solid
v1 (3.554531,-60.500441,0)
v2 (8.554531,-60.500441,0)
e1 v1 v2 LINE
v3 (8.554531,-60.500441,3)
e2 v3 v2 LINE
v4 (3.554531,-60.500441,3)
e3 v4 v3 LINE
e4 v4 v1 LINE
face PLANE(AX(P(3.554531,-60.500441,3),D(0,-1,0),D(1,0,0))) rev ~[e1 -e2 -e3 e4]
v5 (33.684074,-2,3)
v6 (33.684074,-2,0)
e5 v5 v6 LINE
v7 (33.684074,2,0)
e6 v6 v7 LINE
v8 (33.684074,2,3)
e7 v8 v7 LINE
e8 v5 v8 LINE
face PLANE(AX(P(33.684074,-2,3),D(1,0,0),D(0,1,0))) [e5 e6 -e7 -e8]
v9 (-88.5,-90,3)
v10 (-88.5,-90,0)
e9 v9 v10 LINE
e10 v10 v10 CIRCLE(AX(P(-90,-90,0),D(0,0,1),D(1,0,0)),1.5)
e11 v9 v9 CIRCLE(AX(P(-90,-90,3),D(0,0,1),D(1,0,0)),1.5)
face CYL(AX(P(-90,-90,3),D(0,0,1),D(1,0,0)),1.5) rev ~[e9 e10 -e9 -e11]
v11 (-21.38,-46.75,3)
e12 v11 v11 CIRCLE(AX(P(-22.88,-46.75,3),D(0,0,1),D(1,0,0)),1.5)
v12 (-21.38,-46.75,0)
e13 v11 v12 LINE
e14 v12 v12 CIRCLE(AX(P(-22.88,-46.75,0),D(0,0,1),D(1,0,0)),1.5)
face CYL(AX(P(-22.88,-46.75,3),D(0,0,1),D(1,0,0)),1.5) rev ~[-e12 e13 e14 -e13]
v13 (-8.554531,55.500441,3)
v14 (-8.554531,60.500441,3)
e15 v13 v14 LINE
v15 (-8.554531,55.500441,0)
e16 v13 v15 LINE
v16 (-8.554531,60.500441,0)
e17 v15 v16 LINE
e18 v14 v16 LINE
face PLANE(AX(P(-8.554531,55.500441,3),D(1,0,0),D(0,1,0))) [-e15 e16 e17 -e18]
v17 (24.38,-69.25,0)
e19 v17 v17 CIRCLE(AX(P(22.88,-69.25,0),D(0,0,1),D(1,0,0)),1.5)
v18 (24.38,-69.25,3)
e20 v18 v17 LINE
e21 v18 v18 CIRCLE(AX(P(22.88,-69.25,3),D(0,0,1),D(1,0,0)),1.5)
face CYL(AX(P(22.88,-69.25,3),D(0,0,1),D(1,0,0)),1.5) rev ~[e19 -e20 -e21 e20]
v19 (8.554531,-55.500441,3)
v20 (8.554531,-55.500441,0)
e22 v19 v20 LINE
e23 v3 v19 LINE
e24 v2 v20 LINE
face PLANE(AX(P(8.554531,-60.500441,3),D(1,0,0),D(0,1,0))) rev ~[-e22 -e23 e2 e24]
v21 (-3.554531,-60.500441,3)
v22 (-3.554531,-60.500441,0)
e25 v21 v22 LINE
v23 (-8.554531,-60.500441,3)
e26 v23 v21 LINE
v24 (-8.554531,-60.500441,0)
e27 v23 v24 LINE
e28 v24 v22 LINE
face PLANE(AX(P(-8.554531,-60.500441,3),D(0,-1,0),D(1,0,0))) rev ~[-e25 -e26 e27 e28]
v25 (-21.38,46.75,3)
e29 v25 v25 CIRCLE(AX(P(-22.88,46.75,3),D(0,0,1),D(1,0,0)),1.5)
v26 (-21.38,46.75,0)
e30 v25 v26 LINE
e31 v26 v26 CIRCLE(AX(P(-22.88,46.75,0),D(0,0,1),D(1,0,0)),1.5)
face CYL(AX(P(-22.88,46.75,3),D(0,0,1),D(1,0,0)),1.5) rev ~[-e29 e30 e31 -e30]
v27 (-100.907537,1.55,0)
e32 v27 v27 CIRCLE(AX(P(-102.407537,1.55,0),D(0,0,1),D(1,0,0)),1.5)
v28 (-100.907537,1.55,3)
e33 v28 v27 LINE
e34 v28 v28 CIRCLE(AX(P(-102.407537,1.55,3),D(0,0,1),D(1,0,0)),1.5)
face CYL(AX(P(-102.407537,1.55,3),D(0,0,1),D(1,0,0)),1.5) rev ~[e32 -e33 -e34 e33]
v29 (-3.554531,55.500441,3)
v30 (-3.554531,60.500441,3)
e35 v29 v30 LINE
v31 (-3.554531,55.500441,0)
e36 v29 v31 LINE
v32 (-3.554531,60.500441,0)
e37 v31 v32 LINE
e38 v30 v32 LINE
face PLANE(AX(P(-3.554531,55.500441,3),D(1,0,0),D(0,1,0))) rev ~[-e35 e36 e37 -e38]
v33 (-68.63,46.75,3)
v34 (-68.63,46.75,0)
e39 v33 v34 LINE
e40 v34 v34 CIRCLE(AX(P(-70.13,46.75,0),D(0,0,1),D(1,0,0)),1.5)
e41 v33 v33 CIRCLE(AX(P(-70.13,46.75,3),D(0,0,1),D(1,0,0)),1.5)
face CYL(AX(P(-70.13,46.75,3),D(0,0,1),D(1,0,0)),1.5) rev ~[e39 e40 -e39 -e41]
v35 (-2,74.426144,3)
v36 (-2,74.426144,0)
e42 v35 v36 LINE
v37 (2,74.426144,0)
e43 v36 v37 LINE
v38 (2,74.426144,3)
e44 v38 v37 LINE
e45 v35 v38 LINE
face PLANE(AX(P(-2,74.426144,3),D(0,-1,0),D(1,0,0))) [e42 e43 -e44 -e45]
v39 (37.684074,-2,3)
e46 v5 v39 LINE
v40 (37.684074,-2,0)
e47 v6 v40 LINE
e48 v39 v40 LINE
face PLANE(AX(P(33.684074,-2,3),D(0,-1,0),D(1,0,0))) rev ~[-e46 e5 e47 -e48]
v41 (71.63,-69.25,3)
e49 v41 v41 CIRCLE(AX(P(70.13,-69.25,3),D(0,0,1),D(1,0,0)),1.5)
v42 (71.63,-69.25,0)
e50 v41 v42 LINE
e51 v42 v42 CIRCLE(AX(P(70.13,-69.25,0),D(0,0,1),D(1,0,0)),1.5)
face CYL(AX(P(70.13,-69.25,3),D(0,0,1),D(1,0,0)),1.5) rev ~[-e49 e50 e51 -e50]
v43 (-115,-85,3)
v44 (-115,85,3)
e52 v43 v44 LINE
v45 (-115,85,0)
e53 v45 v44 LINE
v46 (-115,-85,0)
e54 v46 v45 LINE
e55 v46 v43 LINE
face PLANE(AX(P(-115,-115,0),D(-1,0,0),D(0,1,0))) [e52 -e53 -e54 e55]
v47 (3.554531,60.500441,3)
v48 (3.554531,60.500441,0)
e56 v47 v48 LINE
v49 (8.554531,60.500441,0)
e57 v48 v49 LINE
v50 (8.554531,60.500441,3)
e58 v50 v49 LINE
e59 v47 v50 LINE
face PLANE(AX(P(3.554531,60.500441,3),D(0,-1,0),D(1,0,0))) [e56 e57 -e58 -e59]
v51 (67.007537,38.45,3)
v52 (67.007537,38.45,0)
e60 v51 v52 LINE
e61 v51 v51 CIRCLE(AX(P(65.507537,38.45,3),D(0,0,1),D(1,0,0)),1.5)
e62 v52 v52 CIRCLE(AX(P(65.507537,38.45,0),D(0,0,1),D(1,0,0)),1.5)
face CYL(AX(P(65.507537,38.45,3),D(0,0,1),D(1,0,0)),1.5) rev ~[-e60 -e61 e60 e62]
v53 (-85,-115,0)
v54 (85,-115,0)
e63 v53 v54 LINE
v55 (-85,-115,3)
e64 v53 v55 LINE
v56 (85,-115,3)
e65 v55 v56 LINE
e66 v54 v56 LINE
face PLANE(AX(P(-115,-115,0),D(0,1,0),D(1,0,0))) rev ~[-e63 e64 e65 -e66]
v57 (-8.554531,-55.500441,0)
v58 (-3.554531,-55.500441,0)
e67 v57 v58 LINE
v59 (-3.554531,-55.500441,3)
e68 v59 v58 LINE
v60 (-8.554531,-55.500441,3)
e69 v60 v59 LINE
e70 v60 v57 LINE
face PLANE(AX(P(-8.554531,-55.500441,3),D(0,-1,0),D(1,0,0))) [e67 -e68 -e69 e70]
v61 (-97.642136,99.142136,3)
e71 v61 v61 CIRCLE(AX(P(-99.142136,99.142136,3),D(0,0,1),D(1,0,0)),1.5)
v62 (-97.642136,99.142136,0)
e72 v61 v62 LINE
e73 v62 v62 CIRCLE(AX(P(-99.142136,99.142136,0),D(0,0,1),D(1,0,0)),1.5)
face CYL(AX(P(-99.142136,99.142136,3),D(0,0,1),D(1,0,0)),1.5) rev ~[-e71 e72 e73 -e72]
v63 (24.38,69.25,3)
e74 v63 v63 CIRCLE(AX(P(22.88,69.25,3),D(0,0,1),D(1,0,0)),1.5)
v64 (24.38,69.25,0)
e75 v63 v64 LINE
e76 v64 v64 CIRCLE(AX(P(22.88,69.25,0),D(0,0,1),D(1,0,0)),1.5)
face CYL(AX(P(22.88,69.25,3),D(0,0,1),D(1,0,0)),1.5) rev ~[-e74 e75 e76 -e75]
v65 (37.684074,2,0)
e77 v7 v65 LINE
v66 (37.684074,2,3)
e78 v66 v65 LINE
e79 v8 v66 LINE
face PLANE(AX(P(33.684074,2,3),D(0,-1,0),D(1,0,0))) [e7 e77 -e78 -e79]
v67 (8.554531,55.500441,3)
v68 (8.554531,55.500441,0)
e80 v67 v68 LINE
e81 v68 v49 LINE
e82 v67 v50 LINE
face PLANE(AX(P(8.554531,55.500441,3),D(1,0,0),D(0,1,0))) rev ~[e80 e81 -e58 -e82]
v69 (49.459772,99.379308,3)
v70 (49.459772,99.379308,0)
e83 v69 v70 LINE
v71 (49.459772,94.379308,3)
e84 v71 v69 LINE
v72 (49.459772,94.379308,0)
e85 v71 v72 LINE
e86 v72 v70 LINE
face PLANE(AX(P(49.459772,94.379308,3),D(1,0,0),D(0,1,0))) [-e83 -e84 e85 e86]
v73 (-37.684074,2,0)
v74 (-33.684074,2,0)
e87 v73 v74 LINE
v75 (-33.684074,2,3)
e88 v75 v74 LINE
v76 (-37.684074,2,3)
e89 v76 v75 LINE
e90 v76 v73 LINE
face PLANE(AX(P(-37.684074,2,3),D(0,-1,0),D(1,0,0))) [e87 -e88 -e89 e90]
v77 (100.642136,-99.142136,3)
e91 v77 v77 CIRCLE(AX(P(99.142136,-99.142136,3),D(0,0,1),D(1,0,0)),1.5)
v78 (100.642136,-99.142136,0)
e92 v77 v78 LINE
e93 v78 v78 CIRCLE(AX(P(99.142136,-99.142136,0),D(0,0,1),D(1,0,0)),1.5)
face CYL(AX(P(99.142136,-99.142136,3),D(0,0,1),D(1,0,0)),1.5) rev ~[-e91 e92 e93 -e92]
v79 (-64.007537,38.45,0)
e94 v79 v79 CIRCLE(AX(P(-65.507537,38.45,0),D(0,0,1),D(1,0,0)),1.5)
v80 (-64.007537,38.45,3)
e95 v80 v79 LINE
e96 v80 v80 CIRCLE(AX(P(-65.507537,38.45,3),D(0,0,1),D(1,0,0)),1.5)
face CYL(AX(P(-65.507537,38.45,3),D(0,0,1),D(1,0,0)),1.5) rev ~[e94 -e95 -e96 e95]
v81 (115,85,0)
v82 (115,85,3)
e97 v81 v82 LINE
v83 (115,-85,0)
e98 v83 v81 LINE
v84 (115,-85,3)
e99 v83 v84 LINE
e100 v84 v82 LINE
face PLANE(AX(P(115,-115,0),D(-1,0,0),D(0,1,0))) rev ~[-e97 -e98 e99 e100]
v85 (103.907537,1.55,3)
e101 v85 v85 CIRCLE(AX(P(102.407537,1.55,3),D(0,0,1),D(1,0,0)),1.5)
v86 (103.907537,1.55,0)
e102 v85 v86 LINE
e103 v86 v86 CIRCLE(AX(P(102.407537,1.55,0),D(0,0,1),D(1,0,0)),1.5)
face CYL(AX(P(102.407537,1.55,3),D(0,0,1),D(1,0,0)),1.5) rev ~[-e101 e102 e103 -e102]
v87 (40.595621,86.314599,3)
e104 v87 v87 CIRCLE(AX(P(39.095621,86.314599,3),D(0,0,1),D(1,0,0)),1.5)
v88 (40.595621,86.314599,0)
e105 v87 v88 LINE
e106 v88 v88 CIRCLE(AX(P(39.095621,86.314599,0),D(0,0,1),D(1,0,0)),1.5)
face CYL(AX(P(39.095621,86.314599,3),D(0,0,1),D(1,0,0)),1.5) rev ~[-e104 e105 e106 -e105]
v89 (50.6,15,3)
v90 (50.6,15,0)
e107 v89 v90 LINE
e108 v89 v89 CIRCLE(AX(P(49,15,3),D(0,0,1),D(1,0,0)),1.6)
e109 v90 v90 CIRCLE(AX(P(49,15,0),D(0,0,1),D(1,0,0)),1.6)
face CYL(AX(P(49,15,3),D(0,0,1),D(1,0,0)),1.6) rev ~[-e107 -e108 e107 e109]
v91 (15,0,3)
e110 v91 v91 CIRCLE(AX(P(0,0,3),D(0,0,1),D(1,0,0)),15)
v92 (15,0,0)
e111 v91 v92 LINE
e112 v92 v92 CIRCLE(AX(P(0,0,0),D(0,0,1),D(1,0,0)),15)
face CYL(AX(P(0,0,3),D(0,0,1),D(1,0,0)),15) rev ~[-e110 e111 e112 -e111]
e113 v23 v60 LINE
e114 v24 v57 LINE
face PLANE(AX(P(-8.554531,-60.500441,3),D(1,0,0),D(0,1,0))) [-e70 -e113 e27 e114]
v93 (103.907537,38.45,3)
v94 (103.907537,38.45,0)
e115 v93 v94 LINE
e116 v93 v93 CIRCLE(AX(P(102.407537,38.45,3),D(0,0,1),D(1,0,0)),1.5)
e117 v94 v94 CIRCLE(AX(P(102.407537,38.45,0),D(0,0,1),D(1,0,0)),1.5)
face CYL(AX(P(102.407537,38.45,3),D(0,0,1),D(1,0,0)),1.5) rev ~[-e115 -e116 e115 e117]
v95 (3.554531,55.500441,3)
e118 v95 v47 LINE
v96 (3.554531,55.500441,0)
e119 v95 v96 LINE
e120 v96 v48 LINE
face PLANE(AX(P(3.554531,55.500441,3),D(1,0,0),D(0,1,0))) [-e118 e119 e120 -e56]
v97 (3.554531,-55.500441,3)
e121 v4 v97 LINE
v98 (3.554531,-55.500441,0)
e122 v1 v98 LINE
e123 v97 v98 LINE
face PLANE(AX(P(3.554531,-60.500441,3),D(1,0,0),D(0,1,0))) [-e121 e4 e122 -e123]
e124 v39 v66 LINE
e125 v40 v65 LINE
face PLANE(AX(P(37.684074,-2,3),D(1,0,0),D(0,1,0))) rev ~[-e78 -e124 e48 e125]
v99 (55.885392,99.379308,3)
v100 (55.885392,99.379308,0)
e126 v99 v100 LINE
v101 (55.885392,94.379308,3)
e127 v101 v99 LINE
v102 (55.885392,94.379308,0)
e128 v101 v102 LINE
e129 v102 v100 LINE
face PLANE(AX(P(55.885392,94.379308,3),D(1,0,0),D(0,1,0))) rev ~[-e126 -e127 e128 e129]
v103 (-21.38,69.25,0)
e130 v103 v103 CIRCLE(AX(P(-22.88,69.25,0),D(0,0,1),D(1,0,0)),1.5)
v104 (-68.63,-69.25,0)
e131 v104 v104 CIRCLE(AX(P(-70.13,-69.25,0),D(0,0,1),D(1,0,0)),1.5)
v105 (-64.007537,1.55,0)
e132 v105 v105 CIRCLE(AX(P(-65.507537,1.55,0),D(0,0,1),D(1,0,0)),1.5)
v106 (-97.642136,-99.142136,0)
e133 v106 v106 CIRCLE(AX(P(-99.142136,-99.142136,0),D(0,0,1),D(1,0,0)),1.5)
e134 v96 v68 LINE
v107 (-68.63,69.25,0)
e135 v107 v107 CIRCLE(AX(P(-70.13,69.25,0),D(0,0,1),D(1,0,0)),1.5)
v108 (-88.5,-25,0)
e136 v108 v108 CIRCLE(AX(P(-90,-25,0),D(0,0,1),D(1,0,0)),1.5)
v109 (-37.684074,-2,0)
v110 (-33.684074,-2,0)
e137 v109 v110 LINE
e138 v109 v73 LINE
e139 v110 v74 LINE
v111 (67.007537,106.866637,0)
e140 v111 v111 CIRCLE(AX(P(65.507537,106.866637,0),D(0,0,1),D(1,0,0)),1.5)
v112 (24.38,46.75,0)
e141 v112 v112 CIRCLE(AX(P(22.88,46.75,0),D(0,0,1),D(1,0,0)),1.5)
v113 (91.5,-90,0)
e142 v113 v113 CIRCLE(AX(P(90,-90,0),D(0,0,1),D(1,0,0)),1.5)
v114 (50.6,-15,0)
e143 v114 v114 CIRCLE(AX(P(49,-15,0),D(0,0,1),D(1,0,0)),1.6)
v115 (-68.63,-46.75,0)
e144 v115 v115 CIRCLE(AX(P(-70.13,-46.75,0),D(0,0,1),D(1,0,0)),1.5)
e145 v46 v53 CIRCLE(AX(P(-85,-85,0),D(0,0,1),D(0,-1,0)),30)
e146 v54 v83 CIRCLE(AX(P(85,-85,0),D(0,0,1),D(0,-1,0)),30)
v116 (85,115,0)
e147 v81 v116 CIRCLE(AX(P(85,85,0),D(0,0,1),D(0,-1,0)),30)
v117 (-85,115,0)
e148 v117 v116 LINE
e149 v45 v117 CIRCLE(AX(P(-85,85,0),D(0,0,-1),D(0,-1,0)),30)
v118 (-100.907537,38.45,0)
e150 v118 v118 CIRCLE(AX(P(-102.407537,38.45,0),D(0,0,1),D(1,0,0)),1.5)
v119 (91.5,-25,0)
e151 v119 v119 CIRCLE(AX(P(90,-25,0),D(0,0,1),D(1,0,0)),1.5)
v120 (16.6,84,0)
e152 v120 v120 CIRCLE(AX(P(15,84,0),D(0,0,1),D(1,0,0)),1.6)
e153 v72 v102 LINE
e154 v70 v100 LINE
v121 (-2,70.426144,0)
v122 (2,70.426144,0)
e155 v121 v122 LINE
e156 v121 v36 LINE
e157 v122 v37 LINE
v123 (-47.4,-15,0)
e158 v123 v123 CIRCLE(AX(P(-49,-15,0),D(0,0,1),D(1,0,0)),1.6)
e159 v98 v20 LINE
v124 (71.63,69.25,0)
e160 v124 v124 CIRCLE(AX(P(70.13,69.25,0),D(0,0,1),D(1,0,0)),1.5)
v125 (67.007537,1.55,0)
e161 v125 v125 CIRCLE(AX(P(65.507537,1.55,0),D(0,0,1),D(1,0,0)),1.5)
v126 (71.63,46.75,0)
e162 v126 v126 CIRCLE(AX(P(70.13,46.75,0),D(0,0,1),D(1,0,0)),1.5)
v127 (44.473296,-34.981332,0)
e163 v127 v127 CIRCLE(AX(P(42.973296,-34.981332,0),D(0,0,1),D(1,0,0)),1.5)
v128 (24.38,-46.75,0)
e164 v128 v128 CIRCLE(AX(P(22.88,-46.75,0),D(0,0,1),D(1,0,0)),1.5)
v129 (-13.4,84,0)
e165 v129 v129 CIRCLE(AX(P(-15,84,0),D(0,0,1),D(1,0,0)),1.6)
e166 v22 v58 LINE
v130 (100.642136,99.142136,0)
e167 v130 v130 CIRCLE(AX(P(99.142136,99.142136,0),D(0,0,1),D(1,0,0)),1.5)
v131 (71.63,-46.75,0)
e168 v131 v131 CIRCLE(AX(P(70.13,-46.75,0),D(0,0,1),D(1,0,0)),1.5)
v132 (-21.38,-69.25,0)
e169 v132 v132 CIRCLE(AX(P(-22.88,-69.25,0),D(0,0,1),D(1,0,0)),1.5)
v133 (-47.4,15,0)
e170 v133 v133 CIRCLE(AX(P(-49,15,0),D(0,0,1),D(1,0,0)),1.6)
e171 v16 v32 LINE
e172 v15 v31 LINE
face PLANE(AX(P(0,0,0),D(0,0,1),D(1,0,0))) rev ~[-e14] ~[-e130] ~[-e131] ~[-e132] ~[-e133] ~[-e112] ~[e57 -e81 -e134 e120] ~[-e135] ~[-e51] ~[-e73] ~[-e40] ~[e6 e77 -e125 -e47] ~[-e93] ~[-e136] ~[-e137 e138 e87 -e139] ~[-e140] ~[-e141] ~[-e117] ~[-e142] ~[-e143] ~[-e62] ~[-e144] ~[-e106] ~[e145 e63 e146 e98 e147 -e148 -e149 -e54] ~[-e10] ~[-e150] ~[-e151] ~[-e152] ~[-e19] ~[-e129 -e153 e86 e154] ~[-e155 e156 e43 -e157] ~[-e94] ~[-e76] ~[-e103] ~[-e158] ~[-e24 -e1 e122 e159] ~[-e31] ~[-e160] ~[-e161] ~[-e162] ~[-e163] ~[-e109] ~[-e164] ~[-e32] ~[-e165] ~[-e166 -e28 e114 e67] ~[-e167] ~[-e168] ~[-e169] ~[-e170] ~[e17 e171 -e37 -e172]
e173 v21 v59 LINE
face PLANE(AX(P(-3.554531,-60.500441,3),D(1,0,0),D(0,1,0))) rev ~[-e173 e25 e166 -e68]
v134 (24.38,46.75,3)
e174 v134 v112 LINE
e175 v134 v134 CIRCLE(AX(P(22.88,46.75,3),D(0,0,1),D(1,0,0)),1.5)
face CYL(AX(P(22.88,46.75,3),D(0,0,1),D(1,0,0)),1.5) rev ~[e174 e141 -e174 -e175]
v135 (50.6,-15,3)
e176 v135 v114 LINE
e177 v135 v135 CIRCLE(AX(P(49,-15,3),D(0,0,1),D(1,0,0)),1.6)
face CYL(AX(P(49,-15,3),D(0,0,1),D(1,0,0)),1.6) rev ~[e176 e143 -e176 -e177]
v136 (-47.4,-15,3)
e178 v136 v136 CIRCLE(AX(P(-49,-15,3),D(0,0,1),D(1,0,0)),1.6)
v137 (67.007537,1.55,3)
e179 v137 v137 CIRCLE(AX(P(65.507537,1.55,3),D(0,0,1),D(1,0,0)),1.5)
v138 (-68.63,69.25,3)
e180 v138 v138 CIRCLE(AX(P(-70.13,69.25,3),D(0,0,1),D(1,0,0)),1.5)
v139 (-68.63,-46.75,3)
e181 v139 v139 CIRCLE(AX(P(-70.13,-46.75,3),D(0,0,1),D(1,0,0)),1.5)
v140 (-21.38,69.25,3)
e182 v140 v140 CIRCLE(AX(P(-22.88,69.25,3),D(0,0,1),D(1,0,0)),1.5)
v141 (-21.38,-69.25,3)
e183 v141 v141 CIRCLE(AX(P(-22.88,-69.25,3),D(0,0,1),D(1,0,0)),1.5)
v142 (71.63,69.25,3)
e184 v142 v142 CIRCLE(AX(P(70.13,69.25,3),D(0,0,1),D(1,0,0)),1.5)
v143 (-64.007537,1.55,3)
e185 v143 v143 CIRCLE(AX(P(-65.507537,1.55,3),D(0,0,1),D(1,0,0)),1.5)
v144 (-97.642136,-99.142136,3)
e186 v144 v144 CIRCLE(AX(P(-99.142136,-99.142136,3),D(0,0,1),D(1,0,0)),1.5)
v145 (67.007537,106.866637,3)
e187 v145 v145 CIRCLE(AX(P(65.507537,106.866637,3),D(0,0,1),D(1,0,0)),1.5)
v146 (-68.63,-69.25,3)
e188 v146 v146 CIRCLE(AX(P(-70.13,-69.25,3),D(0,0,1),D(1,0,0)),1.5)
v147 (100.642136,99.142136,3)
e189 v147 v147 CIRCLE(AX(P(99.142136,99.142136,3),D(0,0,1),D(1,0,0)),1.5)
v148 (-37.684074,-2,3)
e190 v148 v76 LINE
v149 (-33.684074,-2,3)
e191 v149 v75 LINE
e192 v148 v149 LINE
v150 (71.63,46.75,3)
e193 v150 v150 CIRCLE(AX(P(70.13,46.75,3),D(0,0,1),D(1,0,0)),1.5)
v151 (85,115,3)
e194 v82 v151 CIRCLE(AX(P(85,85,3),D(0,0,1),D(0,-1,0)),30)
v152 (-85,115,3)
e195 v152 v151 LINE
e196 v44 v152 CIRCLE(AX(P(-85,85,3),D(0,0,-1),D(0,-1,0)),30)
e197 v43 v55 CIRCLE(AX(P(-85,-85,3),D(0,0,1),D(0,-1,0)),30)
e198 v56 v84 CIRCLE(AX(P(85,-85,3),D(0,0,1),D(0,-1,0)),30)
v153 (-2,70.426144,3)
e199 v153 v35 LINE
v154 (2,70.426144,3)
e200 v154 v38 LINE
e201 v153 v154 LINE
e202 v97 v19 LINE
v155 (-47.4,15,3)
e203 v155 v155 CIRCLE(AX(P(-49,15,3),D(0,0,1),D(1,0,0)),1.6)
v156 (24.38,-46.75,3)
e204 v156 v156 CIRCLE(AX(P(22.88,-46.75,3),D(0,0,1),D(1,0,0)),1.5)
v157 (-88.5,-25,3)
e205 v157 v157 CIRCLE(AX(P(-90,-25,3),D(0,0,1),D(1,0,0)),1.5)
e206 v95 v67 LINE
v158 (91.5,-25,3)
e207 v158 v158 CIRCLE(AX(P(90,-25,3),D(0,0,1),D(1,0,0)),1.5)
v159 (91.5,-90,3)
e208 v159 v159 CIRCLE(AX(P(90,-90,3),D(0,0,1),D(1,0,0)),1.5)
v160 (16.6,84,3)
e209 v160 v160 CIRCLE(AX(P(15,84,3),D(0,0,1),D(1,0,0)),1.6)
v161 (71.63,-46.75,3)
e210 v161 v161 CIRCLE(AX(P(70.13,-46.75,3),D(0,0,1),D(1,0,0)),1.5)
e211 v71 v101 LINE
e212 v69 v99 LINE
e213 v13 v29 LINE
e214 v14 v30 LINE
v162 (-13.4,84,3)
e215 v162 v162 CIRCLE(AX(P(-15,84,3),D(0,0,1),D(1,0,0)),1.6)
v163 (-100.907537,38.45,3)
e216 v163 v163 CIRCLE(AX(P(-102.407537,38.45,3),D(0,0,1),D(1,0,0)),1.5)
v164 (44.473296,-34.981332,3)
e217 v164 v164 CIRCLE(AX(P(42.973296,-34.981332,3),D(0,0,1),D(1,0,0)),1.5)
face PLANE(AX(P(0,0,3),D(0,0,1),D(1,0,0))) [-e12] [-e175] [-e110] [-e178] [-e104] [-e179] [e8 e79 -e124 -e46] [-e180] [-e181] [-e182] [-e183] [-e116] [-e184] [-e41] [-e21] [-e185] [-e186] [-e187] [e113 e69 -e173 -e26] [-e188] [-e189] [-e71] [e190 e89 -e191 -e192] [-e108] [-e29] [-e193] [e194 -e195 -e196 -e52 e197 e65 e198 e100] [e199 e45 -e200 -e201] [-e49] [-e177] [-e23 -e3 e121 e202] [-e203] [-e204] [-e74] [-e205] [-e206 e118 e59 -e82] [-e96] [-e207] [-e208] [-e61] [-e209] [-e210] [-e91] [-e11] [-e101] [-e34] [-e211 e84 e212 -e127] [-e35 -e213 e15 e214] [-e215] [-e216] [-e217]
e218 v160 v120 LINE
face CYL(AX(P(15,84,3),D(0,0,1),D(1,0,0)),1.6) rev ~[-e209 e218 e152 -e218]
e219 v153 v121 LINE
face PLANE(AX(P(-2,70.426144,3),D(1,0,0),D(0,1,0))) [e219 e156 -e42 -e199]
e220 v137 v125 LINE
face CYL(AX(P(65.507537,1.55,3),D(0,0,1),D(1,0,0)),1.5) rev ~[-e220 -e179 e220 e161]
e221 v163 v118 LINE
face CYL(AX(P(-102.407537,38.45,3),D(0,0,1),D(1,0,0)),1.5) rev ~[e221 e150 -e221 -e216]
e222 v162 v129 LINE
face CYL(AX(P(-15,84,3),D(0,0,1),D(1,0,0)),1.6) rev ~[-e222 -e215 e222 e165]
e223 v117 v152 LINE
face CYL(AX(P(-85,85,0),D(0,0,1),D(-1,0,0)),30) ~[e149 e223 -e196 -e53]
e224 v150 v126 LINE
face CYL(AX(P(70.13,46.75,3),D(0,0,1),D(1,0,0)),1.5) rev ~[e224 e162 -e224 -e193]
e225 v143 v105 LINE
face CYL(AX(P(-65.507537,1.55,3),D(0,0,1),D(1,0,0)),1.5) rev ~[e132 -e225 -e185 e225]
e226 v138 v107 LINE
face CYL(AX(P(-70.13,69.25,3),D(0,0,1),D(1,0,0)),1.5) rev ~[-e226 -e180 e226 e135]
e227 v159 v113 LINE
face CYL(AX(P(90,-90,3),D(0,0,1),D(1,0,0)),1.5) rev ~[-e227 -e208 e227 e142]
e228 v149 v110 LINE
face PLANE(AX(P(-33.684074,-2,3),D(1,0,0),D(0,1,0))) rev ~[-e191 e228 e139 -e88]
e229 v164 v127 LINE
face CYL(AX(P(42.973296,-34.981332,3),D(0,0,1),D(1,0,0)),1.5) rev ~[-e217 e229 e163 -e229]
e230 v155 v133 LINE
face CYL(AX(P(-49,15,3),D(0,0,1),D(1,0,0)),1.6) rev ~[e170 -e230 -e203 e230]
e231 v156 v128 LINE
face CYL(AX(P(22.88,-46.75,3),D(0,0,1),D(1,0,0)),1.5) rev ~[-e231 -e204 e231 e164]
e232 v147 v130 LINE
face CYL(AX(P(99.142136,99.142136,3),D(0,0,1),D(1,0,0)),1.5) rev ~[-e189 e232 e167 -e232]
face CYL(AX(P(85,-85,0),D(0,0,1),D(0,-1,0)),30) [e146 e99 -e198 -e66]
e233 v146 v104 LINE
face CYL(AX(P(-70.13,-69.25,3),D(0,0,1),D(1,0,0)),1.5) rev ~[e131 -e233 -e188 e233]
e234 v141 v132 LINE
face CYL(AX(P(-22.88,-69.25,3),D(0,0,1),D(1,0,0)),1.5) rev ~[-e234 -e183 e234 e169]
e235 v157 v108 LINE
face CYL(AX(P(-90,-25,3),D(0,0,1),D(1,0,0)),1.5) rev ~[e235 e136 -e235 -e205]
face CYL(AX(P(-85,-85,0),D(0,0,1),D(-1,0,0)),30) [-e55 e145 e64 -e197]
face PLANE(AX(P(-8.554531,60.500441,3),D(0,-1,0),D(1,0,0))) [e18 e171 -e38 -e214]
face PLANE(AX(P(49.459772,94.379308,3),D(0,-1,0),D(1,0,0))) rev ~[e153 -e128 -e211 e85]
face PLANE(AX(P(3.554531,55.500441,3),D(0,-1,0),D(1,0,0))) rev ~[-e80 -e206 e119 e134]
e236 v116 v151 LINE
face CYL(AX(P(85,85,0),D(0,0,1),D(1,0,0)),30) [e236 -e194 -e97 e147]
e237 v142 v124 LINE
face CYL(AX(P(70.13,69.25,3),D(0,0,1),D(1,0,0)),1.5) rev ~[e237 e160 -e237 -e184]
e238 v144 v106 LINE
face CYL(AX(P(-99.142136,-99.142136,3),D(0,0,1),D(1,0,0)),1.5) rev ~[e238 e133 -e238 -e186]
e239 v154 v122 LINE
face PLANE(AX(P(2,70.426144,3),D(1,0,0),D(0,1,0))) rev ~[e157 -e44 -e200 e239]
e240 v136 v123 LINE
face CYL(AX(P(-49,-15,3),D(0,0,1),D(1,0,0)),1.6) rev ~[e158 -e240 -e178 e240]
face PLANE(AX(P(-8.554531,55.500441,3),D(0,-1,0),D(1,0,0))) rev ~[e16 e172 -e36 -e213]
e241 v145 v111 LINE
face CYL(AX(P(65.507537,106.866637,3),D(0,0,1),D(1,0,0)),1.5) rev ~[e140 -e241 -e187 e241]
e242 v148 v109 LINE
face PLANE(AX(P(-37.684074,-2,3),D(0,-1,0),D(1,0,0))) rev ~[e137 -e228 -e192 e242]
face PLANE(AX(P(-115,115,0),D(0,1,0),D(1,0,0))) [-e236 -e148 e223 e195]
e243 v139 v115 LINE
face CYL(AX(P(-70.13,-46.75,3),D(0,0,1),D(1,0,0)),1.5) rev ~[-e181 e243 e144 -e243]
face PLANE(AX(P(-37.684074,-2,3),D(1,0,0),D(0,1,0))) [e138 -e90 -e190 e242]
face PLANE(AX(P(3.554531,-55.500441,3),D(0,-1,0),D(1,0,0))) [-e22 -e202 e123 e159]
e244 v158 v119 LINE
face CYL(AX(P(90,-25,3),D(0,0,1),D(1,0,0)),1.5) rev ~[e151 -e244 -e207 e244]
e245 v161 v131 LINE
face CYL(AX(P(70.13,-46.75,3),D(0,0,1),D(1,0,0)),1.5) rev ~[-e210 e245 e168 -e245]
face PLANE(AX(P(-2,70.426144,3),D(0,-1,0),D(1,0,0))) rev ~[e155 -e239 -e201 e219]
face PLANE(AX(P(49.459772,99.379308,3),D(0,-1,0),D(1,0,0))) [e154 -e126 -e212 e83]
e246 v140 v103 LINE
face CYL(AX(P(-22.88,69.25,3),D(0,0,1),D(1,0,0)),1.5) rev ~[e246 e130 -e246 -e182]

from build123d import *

# Parameters (mm, degrees)
CROQUIS1_W              = 230
CROQUIS1_H              = 230
SALIENTE_EXTRUIR2_DEPTH = 3
REDONDEO1_R             = 30
REDONDEO2_R             = 30
REDONDEO3_R             = 30
REDONDEO4_R             = 30
CROQUIS2_R              = 1.5
CROQUIS2_R_2            = 15
CROQUIS2_R_3            = 1.6
CROQUIS2_W              = 5
CROQUIS2_H              = 5
CROQUIS2_W_2            = 4
CROQUIS2_H_2            = 4
CROQUIS2_W_3            = 6.425619835
CORTAR_EXTRUIR2_DEPTH   = 3


with BuildPart() as part:
    # Croquis1 → Saliente-Extruir2 (new body)
    with BuildSketch(Plane.XY):
        Rectangle(CROQUIS1_W, CROQUIS1_H)
    extrude(amount=SALIENTE_EXTRUIR2_DEPTH)

    # Redondeo1
    redondeo1_edges = [part.edges().sort_by_distance(p)[0] for p in [
        (-115, 115, 1.5),
    ]]
    fillet(redondeo1_edges, radius=REDONDEO1_R)

    # Redondeo2
    redondeo2_edges = [part.edges().sort_by_distance(p)[0] for p in [
        (-115, -115, 1.5),
    ]]
    fillet(redondeo2_edges, radius=REDONDEO2_R)

    # Redondeo3
    redondeo3_edges = [part.edges().sort_by_distance(p)[0] for p in [
        (115, -115, 1.5),
    ]]
    fillet(redondeo3_edges, radius=REDONDEO3_R)

    # Redondeo4
    redondeo4_edges = [part.edges().sort_by_distance(p)[0] for p in [
        (115, 115, 1.5),
    ]]
    fillet(redondeo4_edges, radius=REDONDEO4_R)

    # Croquis2 → Cortar-Extruir2 (cut)
    with BuildSketch(Plane.XY.offset(3)):
        with Locations((-22.88, 46.75)):
            Circle(CROQUIS2_R)
        with Locations((-70.13, 46.75)):
            Circle(CROQUIS2_R)
        with Locations((-70.13, 69.25)):
            Circle(CROQUIS2_R)
        with Locations((-22.88, 69.25)):
            Circle(CROQUIS2_R)
        with Locations((22.88, 69.25)):
            Circle(CROQUIS2_R)
        with Locations((22.88, 46.75)):
            Circle(CROQUIS2_R)
        with Locations((70.13, 46.75)):
            Circle(CROQUIS2_R)
        with Locations((70.13, 69.25)):
            Circle(CROQUIS2_R)
        with Locations((70.13, -69.25)):
            Circle(CROQUIS2_R)
        with Locations((70.13, -46.75)):
            Circle(CROQUIS2_R)
        with Locations((22.88, -69.25)):
            Circle(CROQUIS2_R)
        with Locations((22.88, -46.75)):
            Circle(CROQUIS2_R)
        with Locations((-22.88, -46.75)):
            Circle(CROQUIS2_R)
        with Locations((-22.88, -69.25)):
            Circle(CROQUIS2_R)
        with Locations((-70.13, -69.25)):
            Circle(CROQUIS2_R)
        with Locations((-70.13, -46.75)):
            Circle(CROQUIS2_R)
        Circle(CROQUIS2_R_2)
        with Locations((42.973295778, -34.981331753)):
            Circle(CROQUIS2_R)
        with Locations((-99.142135624, 99.142135624)):
            Circle(CROQUIS2_R)
        with Locations((99.142135624, 99.142135624)):
            Circle(CROQUIS2_R)
        with Locations((99.142135624, -99.142135624)):
            Circle(CROQUIS2_R)
        with Locations((-99.142135624, -99.142135624)):
            Circle(CROQUIS2_R)
        with Locations((-49, 15)):
            Circle(CROQUIS2_R_3)
        with Locations((-49, -15)):
            Circle(CROQUIS2_R_3)
        with Locations((49, 15)):
            Circle(CROQUIS2_R_3)
        with Locations((49, -15)):
            Circle(CROQUIS2_R_3)
        with Locations((15, 84)):
            Circle(CROQUIS2_R_3)
        with Locations((-15, 84)):
            Circle(CROQUIS2_R_3)
        with Locations((-102.407537284, 38.45)):
            Circle(CROQUIS2_R)
        with Locations((-65.507537284, 38.45)):
            Circle(CROQUIS2_R)
        with Locations((-65.507537284, 1.55)):
            Circle(CROQUIS2_R)
        with Locations((-102.407537284, 1.55)):
            Circle(CROQUIS2_R)
        with Locations((102.407537284, 1.55)):
            Circle(CROQUIS2_R)
        with Locations((65.507537284, 1.55)):
            Circle(CROQUIS2_R)
        with Locations((65.507537284, 38.45)):
            Circle(CROQUIS2_R)
        with Locations((102.407537284, 38.45)):
            Circle(CROQUIS2_R)
        with Locations((-90, -90)):
            Circle(CROQUIS2_R)
        with Locations((90, -90)):
            Circle(CROQUIS2_R)
        with Locations((90, -25)):
            Circle(CROQUIS2_R)
        with Locations((-90, -25)):
            Circle(CROQUIS2_R)
        with Locations((39.09562129, 86.314599105)):
            Circle(CROQUIS2_R)
        with Locations((65.507537284, 106.866636631)):
            Circle(CROQUIS2_R)
        with Locations((-6.05453105, 58.000440639)):
            Rectangle(CROQUIS2_W, CROQUIS2_H)
        with Locations((6.05453105, 58.000440639)):
            Rectangle(CROQUIS2_W, CROQUIS2_H)
        with Locations((6.05453105, -58.000440639)):
            Rectangle(CROQUIS2_W, CROQUIS2_H)
        with Locations((-6.05453105, -58.000440639)):
            Rectangle(CROQUIS2_W, CROQUIS2_H)
        with Locations((35.684074381, 0)):
            Rectangle(CROQUIS2_W_2, CROQUIS2_H_2)
        with Locations((0, 72.426144441)):
            Rectangle(CROQUIS2_W_2, CROQUIS2_H_2)
        with Locations((-35.684074381, 0)):
            Rectangle(CROQUIS2_W_2, CROQUIS2_H_2)
        with Locations((52.672582405, 96.879308397)):
            Rectangle(CROQUIS2_W_3, CROQUIS2_H)
    extrude(amount=-CORTAR_EXTRUIR2_DEPTH, mode=Mode.SUBTRACT)


solid = part.part
